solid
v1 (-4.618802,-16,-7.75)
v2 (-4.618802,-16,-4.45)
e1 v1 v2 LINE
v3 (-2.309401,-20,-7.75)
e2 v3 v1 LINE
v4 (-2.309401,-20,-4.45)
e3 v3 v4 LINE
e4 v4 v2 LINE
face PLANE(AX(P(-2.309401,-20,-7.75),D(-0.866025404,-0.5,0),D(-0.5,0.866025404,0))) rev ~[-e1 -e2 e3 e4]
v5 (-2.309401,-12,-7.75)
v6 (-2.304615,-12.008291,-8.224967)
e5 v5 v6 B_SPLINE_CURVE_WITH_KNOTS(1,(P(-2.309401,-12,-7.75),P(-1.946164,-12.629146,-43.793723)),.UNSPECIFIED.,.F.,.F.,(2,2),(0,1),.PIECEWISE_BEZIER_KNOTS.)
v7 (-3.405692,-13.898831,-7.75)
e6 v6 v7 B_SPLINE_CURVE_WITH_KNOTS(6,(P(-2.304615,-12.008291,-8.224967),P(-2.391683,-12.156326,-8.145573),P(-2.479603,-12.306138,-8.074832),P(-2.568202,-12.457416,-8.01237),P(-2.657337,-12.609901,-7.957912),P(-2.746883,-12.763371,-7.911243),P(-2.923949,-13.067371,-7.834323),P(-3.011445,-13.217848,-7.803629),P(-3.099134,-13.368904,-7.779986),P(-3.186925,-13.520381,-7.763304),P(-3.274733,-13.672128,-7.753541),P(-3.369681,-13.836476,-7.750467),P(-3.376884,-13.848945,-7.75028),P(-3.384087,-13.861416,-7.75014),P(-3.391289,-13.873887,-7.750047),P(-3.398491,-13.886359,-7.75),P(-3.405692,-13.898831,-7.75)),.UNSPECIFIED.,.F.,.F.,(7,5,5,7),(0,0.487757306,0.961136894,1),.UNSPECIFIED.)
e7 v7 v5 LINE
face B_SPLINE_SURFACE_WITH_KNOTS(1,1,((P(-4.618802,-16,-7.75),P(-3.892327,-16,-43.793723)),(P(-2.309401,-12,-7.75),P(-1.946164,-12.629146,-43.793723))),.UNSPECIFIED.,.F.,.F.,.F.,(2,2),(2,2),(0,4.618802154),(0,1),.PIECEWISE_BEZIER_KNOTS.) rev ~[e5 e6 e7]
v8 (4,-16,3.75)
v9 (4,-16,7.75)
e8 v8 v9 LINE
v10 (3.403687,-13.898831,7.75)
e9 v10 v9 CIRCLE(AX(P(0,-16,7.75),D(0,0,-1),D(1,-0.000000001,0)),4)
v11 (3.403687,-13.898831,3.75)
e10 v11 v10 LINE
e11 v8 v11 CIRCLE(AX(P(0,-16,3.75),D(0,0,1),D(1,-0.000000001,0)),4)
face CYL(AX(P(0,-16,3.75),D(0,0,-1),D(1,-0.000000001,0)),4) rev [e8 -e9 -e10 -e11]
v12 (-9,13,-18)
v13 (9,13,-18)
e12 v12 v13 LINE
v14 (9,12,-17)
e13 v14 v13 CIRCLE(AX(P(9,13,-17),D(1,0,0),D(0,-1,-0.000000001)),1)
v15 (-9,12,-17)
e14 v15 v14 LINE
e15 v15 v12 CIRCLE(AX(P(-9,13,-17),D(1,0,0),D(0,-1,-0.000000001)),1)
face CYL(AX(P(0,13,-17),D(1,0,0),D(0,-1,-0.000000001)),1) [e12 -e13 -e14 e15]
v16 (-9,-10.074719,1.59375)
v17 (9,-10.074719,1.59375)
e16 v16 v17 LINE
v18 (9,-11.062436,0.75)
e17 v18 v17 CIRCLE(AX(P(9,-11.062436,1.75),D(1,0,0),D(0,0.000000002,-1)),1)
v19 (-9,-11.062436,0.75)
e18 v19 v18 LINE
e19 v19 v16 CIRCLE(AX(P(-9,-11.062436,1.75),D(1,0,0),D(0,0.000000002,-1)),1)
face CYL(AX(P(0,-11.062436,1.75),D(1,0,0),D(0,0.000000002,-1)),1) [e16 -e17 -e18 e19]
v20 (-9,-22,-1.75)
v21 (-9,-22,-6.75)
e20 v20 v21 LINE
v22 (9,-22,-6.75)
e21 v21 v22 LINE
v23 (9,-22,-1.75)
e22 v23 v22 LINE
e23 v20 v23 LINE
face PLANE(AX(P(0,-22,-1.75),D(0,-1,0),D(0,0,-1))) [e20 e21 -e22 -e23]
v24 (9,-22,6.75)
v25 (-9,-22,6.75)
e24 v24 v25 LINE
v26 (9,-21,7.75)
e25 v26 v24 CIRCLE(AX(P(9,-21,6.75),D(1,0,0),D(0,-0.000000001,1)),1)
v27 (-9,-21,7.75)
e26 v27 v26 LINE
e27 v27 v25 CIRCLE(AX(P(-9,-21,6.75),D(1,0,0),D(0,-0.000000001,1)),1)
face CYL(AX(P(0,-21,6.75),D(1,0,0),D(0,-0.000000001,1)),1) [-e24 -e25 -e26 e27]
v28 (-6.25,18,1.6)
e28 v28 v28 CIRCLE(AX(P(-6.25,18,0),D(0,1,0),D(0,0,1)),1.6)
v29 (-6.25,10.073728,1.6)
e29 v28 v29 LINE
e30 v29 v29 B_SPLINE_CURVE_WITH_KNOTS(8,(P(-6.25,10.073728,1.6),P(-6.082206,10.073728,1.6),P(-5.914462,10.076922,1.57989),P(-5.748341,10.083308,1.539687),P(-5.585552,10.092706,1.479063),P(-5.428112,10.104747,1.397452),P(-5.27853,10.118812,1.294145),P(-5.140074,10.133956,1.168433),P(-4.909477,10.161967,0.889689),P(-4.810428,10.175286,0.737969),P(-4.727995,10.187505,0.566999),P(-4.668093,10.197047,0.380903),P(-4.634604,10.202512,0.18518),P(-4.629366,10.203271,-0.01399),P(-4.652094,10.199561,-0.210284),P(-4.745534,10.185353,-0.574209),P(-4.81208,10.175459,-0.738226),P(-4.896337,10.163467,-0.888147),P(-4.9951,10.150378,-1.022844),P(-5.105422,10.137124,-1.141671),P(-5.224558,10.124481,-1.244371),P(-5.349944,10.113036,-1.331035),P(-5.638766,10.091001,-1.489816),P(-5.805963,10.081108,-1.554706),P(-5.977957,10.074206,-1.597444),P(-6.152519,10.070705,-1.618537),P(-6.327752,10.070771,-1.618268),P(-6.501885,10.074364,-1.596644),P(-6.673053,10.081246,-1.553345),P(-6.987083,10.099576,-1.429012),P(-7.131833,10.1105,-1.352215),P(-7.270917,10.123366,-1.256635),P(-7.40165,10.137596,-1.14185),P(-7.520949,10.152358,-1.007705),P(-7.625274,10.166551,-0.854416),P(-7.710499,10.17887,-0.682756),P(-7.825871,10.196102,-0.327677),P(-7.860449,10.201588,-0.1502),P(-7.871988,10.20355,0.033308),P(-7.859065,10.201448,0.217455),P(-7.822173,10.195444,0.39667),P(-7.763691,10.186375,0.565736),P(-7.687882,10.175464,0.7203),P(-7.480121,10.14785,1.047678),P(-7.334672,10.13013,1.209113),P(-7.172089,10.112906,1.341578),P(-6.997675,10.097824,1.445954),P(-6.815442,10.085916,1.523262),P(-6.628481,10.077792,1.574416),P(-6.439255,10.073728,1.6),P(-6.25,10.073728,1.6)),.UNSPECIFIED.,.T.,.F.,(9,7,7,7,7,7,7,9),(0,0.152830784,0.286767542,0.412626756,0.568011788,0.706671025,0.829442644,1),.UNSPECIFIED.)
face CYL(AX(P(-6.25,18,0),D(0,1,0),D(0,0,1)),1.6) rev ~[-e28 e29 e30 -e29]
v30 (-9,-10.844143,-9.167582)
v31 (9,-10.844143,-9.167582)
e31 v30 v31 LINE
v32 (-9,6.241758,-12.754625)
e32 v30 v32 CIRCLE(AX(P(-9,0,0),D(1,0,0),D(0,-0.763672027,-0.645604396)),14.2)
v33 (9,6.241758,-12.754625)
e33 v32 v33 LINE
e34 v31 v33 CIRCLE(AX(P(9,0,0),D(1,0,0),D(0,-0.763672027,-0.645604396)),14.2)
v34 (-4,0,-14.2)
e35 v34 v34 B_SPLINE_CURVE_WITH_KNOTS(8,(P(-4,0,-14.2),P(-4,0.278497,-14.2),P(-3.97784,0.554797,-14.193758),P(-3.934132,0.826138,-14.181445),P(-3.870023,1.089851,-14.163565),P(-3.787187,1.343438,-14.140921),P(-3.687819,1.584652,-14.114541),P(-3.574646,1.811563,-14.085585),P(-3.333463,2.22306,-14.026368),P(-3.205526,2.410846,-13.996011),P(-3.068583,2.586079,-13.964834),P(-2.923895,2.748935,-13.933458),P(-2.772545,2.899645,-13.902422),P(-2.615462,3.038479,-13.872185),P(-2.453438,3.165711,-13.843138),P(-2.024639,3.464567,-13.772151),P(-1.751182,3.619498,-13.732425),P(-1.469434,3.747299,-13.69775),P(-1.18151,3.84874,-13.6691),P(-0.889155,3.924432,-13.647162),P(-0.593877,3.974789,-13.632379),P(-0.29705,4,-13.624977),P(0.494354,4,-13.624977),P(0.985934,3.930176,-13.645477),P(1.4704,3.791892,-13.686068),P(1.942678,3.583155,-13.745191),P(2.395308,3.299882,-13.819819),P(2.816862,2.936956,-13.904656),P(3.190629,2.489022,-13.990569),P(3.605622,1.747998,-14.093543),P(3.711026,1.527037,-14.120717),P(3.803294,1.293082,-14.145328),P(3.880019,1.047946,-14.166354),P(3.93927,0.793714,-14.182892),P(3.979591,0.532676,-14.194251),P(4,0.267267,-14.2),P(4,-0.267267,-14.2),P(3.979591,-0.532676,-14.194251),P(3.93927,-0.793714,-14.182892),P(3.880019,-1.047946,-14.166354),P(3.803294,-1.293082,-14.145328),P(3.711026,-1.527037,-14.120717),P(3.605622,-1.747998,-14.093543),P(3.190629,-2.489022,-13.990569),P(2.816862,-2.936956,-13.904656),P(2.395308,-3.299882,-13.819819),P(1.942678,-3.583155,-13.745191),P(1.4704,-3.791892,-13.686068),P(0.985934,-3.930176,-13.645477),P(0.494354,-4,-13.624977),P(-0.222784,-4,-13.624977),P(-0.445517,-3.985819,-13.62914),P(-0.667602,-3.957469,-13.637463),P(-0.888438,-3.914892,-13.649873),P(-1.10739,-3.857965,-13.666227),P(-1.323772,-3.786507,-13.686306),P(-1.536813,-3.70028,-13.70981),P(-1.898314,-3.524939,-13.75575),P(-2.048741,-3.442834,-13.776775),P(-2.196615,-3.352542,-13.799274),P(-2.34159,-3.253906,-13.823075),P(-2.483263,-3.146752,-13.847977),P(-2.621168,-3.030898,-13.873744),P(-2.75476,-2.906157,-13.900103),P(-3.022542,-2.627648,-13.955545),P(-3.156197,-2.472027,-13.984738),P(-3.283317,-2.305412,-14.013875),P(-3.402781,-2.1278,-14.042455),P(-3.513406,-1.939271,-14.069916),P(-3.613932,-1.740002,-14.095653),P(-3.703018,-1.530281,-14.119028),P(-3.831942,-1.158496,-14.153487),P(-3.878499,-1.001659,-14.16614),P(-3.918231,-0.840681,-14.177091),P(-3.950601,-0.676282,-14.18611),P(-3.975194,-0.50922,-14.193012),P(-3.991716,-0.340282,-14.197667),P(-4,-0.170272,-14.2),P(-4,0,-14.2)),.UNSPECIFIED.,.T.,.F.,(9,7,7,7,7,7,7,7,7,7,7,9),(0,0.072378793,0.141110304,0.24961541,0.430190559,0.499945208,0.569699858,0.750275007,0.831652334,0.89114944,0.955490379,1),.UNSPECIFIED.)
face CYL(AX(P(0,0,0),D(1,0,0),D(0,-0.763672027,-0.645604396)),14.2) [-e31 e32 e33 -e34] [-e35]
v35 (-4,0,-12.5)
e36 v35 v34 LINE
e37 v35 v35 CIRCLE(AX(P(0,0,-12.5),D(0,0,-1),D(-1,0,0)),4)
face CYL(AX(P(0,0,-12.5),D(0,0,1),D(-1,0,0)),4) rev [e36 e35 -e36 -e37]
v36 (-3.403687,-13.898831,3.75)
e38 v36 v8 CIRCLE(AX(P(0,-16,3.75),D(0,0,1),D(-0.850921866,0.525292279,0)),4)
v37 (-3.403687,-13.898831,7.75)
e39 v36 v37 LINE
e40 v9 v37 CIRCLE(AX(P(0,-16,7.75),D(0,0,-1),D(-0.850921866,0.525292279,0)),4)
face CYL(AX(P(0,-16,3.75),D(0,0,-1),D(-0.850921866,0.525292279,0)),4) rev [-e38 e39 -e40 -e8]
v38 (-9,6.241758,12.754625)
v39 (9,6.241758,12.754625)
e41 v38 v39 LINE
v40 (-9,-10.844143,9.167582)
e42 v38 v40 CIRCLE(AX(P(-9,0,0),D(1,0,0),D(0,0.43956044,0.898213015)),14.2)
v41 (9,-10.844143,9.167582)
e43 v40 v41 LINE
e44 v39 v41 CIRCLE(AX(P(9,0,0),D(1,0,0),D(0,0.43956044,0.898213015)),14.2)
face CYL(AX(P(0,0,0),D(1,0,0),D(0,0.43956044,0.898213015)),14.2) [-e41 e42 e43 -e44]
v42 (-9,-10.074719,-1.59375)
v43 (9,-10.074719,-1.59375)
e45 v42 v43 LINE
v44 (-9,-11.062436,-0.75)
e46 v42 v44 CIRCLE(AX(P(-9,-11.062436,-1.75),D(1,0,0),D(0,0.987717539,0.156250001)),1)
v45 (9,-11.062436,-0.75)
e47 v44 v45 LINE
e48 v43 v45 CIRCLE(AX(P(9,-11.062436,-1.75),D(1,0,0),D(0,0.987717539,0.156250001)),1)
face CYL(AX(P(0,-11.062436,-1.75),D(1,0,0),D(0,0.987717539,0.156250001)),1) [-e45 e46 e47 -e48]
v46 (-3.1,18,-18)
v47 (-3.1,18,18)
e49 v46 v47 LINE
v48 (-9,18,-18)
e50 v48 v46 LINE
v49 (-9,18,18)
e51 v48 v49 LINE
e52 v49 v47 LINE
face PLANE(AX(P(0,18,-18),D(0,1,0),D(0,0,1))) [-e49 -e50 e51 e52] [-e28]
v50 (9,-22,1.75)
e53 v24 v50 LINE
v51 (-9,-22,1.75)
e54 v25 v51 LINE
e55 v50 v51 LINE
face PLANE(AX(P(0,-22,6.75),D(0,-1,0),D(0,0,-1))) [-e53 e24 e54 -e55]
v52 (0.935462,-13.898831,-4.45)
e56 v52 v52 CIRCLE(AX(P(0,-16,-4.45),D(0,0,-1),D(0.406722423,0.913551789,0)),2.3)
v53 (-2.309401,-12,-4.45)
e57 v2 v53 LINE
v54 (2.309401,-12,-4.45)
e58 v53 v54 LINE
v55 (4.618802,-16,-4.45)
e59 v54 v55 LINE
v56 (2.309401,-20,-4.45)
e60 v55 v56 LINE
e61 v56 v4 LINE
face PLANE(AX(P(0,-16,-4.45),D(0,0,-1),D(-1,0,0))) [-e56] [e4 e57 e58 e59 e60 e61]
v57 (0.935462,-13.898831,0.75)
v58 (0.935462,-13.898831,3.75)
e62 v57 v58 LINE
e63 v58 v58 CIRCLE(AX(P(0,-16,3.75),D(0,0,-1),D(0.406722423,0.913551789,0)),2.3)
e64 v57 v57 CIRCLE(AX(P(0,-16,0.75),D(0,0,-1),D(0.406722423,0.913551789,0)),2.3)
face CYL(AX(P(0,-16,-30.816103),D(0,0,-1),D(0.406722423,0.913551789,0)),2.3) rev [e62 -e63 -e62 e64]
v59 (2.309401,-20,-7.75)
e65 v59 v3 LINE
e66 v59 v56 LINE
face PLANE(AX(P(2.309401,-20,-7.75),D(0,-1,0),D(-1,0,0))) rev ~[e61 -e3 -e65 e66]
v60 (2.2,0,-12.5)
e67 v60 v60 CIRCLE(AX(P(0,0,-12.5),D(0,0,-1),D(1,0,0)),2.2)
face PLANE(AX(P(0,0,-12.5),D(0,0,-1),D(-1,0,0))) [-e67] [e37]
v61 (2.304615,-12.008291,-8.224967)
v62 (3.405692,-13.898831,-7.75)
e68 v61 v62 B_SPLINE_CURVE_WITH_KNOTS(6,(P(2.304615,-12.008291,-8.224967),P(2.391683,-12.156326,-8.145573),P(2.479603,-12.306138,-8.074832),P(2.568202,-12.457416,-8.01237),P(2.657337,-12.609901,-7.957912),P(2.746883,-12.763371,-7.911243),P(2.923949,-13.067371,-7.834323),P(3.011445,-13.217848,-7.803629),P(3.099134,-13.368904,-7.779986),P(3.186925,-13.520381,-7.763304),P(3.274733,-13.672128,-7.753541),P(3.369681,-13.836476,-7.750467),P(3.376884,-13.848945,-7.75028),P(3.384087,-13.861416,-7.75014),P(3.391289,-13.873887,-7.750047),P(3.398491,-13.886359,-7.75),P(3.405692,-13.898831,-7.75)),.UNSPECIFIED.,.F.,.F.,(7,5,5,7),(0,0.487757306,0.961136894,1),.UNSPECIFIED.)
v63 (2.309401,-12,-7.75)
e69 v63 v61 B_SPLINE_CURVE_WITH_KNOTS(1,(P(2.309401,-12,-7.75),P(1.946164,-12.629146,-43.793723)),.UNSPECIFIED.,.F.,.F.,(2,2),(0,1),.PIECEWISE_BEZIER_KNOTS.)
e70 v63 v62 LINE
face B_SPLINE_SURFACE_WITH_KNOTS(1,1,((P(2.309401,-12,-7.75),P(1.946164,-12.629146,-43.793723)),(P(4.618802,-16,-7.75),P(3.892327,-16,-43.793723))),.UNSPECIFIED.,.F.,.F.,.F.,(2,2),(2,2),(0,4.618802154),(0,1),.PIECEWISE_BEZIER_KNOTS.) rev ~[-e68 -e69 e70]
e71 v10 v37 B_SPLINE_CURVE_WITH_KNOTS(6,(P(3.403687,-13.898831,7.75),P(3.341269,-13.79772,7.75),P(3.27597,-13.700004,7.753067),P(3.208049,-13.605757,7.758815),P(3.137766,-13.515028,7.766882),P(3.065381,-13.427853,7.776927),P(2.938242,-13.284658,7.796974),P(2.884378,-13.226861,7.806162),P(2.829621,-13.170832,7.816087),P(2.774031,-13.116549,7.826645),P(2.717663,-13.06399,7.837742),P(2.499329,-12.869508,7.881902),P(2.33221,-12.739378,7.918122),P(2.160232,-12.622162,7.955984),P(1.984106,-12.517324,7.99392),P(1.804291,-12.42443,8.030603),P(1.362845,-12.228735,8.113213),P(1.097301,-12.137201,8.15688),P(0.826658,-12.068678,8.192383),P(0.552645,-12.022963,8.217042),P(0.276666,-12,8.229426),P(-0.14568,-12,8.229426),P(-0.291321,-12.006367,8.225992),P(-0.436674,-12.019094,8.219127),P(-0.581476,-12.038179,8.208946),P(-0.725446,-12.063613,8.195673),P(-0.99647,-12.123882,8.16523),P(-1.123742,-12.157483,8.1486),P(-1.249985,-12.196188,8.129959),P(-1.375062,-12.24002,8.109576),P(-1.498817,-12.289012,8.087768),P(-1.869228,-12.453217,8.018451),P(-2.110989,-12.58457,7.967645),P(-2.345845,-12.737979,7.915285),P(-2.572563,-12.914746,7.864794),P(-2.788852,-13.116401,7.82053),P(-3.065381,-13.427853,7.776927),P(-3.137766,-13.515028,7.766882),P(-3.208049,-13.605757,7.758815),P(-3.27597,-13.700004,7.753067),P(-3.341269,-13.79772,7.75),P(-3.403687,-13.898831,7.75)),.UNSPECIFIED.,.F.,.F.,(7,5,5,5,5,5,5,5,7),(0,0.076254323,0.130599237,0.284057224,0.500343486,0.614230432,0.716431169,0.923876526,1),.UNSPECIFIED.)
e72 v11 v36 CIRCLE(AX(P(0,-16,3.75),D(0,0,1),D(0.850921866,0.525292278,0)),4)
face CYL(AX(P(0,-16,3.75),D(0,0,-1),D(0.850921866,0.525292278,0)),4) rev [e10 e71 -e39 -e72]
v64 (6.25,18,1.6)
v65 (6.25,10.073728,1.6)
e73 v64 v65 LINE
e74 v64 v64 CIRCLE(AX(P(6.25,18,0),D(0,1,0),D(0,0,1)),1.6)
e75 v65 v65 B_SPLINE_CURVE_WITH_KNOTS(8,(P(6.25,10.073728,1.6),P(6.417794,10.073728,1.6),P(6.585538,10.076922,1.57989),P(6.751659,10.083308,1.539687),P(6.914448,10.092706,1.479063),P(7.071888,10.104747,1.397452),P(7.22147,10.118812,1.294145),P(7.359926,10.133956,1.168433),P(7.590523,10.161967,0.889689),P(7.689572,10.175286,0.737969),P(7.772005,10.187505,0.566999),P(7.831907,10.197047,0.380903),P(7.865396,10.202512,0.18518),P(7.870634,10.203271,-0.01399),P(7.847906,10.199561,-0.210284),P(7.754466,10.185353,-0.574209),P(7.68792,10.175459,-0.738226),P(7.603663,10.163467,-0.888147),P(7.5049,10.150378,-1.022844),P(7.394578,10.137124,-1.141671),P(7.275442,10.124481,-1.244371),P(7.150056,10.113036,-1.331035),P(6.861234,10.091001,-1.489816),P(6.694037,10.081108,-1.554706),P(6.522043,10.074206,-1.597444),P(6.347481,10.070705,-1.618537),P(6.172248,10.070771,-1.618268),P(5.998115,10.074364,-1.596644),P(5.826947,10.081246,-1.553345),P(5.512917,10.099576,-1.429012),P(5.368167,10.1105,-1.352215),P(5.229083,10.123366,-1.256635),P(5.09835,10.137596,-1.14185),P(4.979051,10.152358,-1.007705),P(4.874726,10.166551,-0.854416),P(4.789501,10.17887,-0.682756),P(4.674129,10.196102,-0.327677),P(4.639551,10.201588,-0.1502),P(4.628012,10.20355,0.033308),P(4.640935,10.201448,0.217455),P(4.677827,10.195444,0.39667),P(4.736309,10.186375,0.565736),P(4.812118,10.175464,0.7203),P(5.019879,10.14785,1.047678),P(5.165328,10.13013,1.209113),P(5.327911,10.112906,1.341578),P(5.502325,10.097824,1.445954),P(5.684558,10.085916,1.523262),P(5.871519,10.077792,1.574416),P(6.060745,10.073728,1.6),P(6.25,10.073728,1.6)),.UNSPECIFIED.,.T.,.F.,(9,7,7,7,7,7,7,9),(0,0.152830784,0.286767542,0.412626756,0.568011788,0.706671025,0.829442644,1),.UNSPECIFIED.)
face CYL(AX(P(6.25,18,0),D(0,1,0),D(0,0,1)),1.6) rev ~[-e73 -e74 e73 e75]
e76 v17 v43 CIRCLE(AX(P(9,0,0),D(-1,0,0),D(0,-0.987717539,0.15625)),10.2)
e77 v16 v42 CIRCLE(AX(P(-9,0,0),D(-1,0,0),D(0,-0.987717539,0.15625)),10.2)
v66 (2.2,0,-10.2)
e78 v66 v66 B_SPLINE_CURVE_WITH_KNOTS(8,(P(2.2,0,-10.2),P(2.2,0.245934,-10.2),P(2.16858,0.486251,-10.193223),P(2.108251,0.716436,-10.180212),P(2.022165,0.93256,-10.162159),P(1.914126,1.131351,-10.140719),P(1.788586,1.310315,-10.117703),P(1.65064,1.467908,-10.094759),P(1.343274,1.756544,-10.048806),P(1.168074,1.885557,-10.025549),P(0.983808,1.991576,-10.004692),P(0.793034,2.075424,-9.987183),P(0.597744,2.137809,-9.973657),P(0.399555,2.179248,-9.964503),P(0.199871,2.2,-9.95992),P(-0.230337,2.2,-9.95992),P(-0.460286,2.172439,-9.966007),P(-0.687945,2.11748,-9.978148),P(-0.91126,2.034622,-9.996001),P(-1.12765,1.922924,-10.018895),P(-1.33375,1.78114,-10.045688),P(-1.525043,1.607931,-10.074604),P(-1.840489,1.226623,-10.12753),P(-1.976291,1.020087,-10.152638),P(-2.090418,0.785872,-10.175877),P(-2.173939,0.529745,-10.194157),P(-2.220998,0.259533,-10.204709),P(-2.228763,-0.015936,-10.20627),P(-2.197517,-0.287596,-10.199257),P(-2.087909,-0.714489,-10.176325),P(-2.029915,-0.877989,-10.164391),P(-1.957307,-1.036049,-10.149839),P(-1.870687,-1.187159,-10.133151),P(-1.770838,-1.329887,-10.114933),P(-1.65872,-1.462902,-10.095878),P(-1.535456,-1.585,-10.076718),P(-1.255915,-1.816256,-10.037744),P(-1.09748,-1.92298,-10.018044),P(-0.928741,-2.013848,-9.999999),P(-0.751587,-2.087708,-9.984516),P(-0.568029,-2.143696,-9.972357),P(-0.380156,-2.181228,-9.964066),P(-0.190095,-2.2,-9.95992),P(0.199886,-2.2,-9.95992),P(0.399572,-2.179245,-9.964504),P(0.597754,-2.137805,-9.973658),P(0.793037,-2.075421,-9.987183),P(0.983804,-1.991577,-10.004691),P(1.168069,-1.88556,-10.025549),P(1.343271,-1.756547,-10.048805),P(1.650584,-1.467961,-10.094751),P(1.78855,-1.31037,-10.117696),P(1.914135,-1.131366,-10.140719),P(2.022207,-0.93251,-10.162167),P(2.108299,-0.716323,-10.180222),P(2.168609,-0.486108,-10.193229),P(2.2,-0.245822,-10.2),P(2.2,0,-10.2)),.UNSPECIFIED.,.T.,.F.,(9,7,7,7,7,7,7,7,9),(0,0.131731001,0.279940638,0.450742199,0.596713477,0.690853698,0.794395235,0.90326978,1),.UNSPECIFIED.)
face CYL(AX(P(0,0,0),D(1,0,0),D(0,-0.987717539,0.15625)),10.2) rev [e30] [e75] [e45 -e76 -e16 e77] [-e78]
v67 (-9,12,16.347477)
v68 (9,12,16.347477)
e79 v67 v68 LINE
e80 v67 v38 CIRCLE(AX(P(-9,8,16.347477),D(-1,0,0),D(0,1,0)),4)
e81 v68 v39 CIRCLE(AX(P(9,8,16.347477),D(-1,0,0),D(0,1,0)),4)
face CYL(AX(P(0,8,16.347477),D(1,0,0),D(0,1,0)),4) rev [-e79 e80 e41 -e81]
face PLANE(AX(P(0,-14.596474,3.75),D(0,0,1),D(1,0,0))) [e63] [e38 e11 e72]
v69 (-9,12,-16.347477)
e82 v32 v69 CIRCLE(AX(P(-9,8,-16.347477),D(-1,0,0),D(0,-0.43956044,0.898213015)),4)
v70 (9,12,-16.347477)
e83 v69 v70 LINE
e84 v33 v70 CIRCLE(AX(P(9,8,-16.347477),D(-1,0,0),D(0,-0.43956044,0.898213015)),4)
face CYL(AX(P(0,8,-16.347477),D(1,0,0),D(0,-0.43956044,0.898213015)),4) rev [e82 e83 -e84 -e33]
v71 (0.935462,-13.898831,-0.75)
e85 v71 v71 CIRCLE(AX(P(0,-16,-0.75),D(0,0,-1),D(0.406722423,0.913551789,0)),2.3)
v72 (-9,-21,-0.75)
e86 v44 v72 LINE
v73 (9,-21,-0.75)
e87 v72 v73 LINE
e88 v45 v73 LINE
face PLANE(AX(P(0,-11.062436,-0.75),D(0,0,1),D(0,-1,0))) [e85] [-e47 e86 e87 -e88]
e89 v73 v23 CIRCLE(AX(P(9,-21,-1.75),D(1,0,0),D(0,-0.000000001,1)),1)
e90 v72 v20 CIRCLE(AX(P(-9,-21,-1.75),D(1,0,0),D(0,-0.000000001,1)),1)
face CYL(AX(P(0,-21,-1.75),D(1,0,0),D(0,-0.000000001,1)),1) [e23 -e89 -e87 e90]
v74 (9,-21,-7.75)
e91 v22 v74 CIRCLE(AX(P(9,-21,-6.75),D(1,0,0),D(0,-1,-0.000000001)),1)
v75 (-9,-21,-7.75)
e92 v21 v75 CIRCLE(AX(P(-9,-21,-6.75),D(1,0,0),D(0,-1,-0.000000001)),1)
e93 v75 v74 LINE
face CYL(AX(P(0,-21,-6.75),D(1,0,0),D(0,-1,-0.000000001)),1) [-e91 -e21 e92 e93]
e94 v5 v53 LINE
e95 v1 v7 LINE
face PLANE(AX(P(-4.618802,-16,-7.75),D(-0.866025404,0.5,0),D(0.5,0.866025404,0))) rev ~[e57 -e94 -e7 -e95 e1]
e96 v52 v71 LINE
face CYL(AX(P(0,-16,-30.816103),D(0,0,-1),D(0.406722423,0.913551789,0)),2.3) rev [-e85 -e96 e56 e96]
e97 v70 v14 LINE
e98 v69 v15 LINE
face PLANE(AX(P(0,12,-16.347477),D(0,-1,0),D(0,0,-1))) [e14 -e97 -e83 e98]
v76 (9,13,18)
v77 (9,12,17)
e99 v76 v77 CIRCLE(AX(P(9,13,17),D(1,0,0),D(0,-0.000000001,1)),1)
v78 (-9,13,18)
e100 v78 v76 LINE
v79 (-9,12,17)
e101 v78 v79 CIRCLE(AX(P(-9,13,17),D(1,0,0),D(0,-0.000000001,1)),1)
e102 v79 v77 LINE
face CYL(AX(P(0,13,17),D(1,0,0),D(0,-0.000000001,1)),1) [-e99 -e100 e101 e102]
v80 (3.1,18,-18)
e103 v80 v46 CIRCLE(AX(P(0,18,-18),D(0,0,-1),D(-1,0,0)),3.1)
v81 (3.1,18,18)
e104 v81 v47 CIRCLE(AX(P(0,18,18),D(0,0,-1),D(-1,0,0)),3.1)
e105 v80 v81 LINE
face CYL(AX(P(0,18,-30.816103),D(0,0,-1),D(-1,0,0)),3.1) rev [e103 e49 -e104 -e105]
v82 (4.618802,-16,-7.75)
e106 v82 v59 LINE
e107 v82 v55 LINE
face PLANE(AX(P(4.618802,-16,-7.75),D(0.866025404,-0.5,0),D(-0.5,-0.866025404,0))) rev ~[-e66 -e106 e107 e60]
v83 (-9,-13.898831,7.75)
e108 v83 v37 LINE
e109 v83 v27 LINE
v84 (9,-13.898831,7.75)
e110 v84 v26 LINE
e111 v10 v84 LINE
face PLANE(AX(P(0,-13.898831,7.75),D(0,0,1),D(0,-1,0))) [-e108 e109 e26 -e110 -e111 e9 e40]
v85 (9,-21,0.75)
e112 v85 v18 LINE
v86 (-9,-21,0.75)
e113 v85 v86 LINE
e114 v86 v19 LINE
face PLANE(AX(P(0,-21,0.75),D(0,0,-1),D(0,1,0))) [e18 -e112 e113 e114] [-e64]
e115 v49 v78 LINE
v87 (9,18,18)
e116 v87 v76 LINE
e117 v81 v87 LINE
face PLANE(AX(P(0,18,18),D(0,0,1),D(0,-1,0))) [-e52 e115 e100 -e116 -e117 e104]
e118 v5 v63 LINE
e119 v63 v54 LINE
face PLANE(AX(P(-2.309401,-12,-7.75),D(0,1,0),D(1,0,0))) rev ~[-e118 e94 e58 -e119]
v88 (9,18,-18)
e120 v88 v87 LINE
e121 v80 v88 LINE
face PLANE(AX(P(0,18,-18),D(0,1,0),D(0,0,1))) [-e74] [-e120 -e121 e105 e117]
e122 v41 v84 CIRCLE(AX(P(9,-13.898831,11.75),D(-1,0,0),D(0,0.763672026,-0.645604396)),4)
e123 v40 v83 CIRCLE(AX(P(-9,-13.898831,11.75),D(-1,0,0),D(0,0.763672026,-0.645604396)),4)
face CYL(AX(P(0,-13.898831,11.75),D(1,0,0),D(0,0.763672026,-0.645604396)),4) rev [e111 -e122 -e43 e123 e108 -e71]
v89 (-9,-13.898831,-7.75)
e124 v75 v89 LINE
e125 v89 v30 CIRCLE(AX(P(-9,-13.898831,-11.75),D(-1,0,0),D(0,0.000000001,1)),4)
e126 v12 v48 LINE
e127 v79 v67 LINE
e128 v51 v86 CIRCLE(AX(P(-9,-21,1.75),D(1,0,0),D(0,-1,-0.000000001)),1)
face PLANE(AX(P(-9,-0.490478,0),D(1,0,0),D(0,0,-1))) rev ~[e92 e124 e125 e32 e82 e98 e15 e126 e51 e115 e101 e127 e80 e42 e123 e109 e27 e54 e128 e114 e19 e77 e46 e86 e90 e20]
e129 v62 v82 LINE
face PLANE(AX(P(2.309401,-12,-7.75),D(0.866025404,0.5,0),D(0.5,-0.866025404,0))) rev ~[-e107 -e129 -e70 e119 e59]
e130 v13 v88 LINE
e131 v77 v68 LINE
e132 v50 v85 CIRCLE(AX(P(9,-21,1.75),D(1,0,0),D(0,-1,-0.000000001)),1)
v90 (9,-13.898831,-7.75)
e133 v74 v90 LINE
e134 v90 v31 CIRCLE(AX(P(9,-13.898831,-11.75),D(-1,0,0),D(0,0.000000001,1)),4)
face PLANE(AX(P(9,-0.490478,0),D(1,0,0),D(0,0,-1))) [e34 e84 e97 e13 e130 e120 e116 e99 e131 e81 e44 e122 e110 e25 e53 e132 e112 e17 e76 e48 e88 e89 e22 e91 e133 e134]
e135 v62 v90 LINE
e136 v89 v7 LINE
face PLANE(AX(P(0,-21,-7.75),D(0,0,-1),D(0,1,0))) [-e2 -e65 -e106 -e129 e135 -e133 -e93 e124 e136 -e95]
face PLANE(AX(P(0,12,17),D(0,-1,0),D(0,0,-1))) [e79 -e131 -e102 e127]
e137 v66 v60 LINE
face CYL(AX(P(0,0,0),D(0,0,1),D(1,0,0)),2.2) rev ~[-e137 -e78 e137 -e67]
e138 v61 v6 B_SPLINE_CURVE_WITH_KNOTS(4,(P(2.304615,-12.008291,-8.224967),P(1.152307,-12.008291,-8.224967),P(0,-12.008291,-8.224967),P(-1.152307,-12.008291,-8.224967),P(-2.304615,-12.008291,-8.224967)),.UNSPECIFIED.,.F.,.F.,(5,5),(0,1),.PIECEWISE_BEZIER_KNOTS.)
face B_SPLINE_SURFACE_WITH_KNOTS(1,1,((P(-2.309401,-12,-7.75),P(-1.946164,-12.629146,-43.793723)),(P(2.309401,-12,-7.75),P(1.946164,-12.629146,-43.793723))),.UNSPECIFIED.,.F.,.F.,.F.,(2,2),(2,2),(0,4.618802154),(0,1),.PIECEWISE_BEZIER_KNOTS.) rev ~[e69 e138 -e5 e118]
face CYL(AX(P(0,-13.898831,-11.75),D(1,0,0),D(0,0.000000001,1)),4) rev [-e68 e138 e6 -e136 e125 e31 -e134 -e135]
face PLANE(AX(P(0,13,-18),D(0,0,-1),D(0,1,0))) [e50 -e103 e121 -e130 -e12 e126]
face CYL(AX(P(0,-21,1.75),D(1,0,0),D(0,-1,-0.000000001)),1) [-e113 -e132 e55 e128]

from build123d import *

# Parameters (mm, degrees)
EXTRUDE_1_DEPTH               = 9
CUT_EXTRUDE_1_DEPTH           = 30.816103032
CUT_EXTRUDE_1_DEPTH_BACK      = 30.816103032
SKETCH_2_R                    = 2.3
CUT_EXTRUDE_2_DEPTH           = 3.3
CUT_EXTRUDE_2_OTHER_WAY_DEPTH = 36.043722716
CUT_EXTRUDE_2_OTHER_WAY_TAPER = 1
CUT_EXTRUDE_3_DEPTH           = 36.043722716
CUT_EXTRUDE_3_DEPTH_BACK      = 4
CUT_EXTRUDE_4_REACH           = 46.777
CUT_EXTRUDE_4_END_RADIUS      = 10.2
SKETCH_5_R                    = 1.6
SKETCH_6_R                    = 2.2
CUT_EXTRUDE_5_DEPTH           = 30.816103062
CUT_EXTRUDE_START             = -5.5
SKETCH_7_R                    = 4
SKETCH_7_R_2                  = 2.2
CUT_EXTRUDE_6_DEPTH           = 5.5


with BuildPart() as part:
    # Эскиз1 → Бобышка-Вытянуть1 (new, symmetric)
    with BuildSketch(Plane(origin=(0, 0, 0), x_dir=(0, 0, -1), z_dir=(1, 0, 0))):
        with BuildLine():
            Line((-0.75, -21), (-0.75, -11.06243644))
            ThreePointArc((-0.75, -11.06243644), (-0.989654684, -10.412917388), (-1.59375, -10.074718901))
            ThreePointArc((-1.59375, -10.074718901), (0, 10.2), (1.59375, -10.074718901))
            ThreePointArc((1.59375, -10.074718901), (0.989654684, -10.412917388), (0.75, -11.06243644))
            Line((0.75, -11.06243644), (0.75, -21))
            ThreePointArc((0.75, -21), (1.042893219, -21.707106781), (1.75, -22))
            Line((1.75, -22), (6.75, -22))
            ThreePointArc((6.75, -22), (7.457106781, -21.707106781), (7.75, -21))
            Line((7.75, -21), (7.75, -13.898830886))
            ThreePointArc((7.75, -13.898830886), (8.121662204, -12.215036114), (9.167582418, -10.844142779))
            ThreePointArc((9.167582418, -10.844142779), (13.897042702, -2.917568189), (12.75462481, 6.241758242))
            ThreePointArc((12.75462481, 6.241758242), (12.953882386, 10.117431577), (16.34747687, 12))
            Line((16.34747687, 12), (17, 12))
            ThreePointArc((17, 12), (17.707106781, 12.292893219), (18, 13))
            Line((18, 13), (18, 18))
            Line((18, 18), (-18, 18))
            Line((-18, 18), (-18, 13))
            ThreePointArc((-18, 13), (-17.707106781, 12.292893219), (-17, 12))
            Line((-17, 12), (-16.34747687, 12))
            ThreePointArc((-16.34747687, 12), (-12.953882386, 10.117431577), (-12.75462481, 6.241758242))
            ThreePointArc((-12.75462481, 6.241758242), (-13.897042702, -2.917568189), (-9.167582418, -10.844142779))
            ThreePointArc((-9.167582418, -10.844142779), (-8.121662204, -12.215036114), (-7.75, -13.898830886))
            Line((-7.75, -13.898830886), (-7.75, -21))
            ThreePointArc((-7.75, -21), (-7.457106781, -21.707106781), (-6.75, -22))
            Line((-6.75, -22), (-1.75, -22))
            ThreePointArc((-1.75, -22), (-1.042893219, -21.707106781), (-0.75, -21))
        make_face()
    extrude(amount=EXTRUDE_1_DEPTH, both=True)

    # Эскиз2 → Вырез-Вытянуть1 (cut, two sides: drawn at the far end of the back side and taken through both)
    with BuildSketch(Plane.XY.offset(-CUT_EXTRUDE_1_DEPTH_BACK)):
        with BuildLine():
            ThreePointArc((-3.1, 18), (0, 14.9), (3.1, 18))
            Line((3.1, 18), (-3.1, 18))
        make_face()
        with Locations(Location((0, -16, 0), (0, 0, 66.000891847))):
            Circle(SKETCH_2_R)
    extrude(amount=CUT_EXTRUDE_1_DEPTH + CUT_EXTRUDE_1_DEPTH_BACK, mode=Mode.SUBTRACT)

    # Эскиз3 → Вырез-Вытянуть2 (cut)
    with BuildSketch(Plane(origin=(0, 0, -7.75), x_dir=(-1, 0, 0), z_dir=(0, 0, -1))):
        Polygon((-4.618802154, -16), (-2.309401077, -20), (2.309401077, -20), (4.618802154, -16), (2.309401077, -12), (-2.309401077, -12), align=None)
    extrude(amount=-CUT_EXTRUDE_2_DEPTH, mode=Mode.SUBTRACT)

    # Эскиз3 → Вырез-Вытянуть2 other way (cut)
    with BuildSketch(Plane(origin=(0, 0, -7.75), x_dir=(-1, 0, 0), z_dir=(0, 0, -1))):
        Polygon((-4.618802154, -16), (-2.309401077, -20), (2.309401077, -20), (4.618802154, -16), (2.309401077, -12), (-2.309401077, -12), align=None)
    extrude(amount=CUT_EXTRUDE_2_OTHER_WAY_DEPTH, taper=CUT_EXTRUDE_2_OTHER_WAY_TAPER, mode=Mode.SUBTRACT)

    # Эскиз4 → Вырез-Вытянуть3 (cut, two sides: drawn at the far end of the back side and taken through both)
    with BuildSketch(Plane.XY.offset(7.75).offset(-CUT_EXTRUDE_3_DEPTH_BACK)):
        with BuildLine():
            Line((-3.403687464, -13.898830886), (-0.935461573, -13.898830886))
            ThreePointArc((-0.935461573, -13.898830886), (0, -18.3), (0.935461573, -13.898830886))
            Line((0.935461573, -13.898830886), (3.403687464, -13.898830886))
            ThreePointArc((3.403687464, -13.898830886), (0, -12), (-3.403687464, -13.898830886))
        make_face()
        with BuildLine():
            ThreePointArc((0.935461573, -13.898830886), (0, -18.3), (-0.935461573, -13.898830886))
            Line((-0.935461573, -13.898830886), (-3.403687464, -13.898830886))
            ThreePointArc((-3.403687464, -13.898830886), (-1.092073748, -19.848035204), (4, -16))
            ThreePointArc((4, -16), (3.848035204, -14.907926252), (3.403687464, -13.898830886))
            Line((3.403687464, -13.898830886), (0.935461573, -13.898830886))
        make_face()
        with BuildLine():
            Line((-3.403687464, -13.898830886), (-0.935461573, -13.898830886))
            ThreePointArc((-0.935461573, -13.898830886), (0, -18.3), (0.935461573, -13.898830886))
            Line((0.935461573, -13.898830886), (3.403687464, -13.898830886))
            ThreePointArc((3.403687464, -13.898830886), (0, -12), (-3.403687464, -13.898830886))
        make_face()
        with BuildLine():
            ThreePointArc((0.935461573, -13.898830886), (0, -18.3), (-0.935461573, -13.898830886))
            Line((-0.935461573, -13.898830886), (-3.403687464, -13.898830886))
            ThreePointArc((-3.403687464, -13.898830886), (-1.092073748, -19.848035204), (4, -16))
            ThreePointArc((4, -16), (3.848035204, -14.907926252), (3.403687464, -13.898830886))
            Line((3.403687464, -13.898830886), (0.935461573, -13.898830886))
        make_face()
    extrude(amount=CUT_EXTRUDE_3_DEPTH + CUT_EXTRUDE_3_DEPTH_BACK, mode=Mode.SUBTRACT)

    # Вырез-Вытянуть4: up to this cylinder (the profile starts outside it)
    cut_extrude_4_end = Plane(origin=(0, 0, 0), z_dir=(-1, 0, 0)) * Cylinder(CUT_EXTRUDE_4_END_RADIUS, 127.454, mode=Mode.PRIVATE)
    # Эскиз5 → Вырез-Вытянуть4 (cut, up to the surface)
    with BuildSketch(Plane(origin=(0, 18, 0), x_dir=(1, 0, 0), z_dir=(0, 1, 0)), mode=Mode.PRIVATE) as cut_extrude_4_sk1:
        with Locations(Location((6.25, 0, 0), (0, 0, 270))):
            Circle(SKETCH_5_R)
    cut_extrude_4_tool1 = extrude(cut_extrude_4_sk1.sketch, amount=-CUT_EXTRUDE_4_REACH, mode=Mode.PRIVATE) - cut_extrude_4_end
    add(cut_extrude_4_tool1.solids().sort_by_distance((6.25, 18, 0))[0], mode=Mode.SUBTRACT)
    # Эскиз5 → Вырез-Вытянуть4 (cut, up to the surface)
    with BuildSketch(Plane(origin=(0, 18, 0), x_dir=(1, 0, 0), z_dir=(0, 1, 0)), mode=Mode.PRIVATE) as cut_extrude_4_sk2:
        with Locations(Location((-6.25, 0, 0), (0, 0, 270))):
            Circle(SKETCH_5_R)
    cut_extrude_4_tool2 = extrude(cut_extrude_4_sk2.sketch, amount=-CUT_EXTRUDE_4_REACH, mode=Mode.PRIVATE) - cut_extrude_4_end
    add(cut_extrude_4_tool2.solids().sort_by_distance((-6.25, 18, 0))[0], mode=Mode.SUBTRACT)

    # Эскиз6 → Вырез-Вытянуть5 (cut, through all)
    with BuildSketch(Plane.XY):
        Circle(SKETCH_6_R)
    extrude(amount=-CUT_EXTRUDE_5_DEPTH, mode=Mode.SUBTRACT)

    # Эскиз7 → Вырез-Вытянуть6 (cut)
    with BuildSketch(Plane(origin=(0, 0, -18), x_dir=(-1, 0, 0), z_dir=(0, 0, -1)).offset(CUT_EXTRUDE_START)):
        Circle(SKETCH_7_R)
        with Locations(Location((0, 0, 0), (0, 0, 180))):
            Circle(SKETCH_7_R_2, mode=Mode.SUBTRACT)
    extrude(amount=CUT_EXTRUDE_6_DEPTH, mode=Mode.SUBTRACT)


solid = part.part
